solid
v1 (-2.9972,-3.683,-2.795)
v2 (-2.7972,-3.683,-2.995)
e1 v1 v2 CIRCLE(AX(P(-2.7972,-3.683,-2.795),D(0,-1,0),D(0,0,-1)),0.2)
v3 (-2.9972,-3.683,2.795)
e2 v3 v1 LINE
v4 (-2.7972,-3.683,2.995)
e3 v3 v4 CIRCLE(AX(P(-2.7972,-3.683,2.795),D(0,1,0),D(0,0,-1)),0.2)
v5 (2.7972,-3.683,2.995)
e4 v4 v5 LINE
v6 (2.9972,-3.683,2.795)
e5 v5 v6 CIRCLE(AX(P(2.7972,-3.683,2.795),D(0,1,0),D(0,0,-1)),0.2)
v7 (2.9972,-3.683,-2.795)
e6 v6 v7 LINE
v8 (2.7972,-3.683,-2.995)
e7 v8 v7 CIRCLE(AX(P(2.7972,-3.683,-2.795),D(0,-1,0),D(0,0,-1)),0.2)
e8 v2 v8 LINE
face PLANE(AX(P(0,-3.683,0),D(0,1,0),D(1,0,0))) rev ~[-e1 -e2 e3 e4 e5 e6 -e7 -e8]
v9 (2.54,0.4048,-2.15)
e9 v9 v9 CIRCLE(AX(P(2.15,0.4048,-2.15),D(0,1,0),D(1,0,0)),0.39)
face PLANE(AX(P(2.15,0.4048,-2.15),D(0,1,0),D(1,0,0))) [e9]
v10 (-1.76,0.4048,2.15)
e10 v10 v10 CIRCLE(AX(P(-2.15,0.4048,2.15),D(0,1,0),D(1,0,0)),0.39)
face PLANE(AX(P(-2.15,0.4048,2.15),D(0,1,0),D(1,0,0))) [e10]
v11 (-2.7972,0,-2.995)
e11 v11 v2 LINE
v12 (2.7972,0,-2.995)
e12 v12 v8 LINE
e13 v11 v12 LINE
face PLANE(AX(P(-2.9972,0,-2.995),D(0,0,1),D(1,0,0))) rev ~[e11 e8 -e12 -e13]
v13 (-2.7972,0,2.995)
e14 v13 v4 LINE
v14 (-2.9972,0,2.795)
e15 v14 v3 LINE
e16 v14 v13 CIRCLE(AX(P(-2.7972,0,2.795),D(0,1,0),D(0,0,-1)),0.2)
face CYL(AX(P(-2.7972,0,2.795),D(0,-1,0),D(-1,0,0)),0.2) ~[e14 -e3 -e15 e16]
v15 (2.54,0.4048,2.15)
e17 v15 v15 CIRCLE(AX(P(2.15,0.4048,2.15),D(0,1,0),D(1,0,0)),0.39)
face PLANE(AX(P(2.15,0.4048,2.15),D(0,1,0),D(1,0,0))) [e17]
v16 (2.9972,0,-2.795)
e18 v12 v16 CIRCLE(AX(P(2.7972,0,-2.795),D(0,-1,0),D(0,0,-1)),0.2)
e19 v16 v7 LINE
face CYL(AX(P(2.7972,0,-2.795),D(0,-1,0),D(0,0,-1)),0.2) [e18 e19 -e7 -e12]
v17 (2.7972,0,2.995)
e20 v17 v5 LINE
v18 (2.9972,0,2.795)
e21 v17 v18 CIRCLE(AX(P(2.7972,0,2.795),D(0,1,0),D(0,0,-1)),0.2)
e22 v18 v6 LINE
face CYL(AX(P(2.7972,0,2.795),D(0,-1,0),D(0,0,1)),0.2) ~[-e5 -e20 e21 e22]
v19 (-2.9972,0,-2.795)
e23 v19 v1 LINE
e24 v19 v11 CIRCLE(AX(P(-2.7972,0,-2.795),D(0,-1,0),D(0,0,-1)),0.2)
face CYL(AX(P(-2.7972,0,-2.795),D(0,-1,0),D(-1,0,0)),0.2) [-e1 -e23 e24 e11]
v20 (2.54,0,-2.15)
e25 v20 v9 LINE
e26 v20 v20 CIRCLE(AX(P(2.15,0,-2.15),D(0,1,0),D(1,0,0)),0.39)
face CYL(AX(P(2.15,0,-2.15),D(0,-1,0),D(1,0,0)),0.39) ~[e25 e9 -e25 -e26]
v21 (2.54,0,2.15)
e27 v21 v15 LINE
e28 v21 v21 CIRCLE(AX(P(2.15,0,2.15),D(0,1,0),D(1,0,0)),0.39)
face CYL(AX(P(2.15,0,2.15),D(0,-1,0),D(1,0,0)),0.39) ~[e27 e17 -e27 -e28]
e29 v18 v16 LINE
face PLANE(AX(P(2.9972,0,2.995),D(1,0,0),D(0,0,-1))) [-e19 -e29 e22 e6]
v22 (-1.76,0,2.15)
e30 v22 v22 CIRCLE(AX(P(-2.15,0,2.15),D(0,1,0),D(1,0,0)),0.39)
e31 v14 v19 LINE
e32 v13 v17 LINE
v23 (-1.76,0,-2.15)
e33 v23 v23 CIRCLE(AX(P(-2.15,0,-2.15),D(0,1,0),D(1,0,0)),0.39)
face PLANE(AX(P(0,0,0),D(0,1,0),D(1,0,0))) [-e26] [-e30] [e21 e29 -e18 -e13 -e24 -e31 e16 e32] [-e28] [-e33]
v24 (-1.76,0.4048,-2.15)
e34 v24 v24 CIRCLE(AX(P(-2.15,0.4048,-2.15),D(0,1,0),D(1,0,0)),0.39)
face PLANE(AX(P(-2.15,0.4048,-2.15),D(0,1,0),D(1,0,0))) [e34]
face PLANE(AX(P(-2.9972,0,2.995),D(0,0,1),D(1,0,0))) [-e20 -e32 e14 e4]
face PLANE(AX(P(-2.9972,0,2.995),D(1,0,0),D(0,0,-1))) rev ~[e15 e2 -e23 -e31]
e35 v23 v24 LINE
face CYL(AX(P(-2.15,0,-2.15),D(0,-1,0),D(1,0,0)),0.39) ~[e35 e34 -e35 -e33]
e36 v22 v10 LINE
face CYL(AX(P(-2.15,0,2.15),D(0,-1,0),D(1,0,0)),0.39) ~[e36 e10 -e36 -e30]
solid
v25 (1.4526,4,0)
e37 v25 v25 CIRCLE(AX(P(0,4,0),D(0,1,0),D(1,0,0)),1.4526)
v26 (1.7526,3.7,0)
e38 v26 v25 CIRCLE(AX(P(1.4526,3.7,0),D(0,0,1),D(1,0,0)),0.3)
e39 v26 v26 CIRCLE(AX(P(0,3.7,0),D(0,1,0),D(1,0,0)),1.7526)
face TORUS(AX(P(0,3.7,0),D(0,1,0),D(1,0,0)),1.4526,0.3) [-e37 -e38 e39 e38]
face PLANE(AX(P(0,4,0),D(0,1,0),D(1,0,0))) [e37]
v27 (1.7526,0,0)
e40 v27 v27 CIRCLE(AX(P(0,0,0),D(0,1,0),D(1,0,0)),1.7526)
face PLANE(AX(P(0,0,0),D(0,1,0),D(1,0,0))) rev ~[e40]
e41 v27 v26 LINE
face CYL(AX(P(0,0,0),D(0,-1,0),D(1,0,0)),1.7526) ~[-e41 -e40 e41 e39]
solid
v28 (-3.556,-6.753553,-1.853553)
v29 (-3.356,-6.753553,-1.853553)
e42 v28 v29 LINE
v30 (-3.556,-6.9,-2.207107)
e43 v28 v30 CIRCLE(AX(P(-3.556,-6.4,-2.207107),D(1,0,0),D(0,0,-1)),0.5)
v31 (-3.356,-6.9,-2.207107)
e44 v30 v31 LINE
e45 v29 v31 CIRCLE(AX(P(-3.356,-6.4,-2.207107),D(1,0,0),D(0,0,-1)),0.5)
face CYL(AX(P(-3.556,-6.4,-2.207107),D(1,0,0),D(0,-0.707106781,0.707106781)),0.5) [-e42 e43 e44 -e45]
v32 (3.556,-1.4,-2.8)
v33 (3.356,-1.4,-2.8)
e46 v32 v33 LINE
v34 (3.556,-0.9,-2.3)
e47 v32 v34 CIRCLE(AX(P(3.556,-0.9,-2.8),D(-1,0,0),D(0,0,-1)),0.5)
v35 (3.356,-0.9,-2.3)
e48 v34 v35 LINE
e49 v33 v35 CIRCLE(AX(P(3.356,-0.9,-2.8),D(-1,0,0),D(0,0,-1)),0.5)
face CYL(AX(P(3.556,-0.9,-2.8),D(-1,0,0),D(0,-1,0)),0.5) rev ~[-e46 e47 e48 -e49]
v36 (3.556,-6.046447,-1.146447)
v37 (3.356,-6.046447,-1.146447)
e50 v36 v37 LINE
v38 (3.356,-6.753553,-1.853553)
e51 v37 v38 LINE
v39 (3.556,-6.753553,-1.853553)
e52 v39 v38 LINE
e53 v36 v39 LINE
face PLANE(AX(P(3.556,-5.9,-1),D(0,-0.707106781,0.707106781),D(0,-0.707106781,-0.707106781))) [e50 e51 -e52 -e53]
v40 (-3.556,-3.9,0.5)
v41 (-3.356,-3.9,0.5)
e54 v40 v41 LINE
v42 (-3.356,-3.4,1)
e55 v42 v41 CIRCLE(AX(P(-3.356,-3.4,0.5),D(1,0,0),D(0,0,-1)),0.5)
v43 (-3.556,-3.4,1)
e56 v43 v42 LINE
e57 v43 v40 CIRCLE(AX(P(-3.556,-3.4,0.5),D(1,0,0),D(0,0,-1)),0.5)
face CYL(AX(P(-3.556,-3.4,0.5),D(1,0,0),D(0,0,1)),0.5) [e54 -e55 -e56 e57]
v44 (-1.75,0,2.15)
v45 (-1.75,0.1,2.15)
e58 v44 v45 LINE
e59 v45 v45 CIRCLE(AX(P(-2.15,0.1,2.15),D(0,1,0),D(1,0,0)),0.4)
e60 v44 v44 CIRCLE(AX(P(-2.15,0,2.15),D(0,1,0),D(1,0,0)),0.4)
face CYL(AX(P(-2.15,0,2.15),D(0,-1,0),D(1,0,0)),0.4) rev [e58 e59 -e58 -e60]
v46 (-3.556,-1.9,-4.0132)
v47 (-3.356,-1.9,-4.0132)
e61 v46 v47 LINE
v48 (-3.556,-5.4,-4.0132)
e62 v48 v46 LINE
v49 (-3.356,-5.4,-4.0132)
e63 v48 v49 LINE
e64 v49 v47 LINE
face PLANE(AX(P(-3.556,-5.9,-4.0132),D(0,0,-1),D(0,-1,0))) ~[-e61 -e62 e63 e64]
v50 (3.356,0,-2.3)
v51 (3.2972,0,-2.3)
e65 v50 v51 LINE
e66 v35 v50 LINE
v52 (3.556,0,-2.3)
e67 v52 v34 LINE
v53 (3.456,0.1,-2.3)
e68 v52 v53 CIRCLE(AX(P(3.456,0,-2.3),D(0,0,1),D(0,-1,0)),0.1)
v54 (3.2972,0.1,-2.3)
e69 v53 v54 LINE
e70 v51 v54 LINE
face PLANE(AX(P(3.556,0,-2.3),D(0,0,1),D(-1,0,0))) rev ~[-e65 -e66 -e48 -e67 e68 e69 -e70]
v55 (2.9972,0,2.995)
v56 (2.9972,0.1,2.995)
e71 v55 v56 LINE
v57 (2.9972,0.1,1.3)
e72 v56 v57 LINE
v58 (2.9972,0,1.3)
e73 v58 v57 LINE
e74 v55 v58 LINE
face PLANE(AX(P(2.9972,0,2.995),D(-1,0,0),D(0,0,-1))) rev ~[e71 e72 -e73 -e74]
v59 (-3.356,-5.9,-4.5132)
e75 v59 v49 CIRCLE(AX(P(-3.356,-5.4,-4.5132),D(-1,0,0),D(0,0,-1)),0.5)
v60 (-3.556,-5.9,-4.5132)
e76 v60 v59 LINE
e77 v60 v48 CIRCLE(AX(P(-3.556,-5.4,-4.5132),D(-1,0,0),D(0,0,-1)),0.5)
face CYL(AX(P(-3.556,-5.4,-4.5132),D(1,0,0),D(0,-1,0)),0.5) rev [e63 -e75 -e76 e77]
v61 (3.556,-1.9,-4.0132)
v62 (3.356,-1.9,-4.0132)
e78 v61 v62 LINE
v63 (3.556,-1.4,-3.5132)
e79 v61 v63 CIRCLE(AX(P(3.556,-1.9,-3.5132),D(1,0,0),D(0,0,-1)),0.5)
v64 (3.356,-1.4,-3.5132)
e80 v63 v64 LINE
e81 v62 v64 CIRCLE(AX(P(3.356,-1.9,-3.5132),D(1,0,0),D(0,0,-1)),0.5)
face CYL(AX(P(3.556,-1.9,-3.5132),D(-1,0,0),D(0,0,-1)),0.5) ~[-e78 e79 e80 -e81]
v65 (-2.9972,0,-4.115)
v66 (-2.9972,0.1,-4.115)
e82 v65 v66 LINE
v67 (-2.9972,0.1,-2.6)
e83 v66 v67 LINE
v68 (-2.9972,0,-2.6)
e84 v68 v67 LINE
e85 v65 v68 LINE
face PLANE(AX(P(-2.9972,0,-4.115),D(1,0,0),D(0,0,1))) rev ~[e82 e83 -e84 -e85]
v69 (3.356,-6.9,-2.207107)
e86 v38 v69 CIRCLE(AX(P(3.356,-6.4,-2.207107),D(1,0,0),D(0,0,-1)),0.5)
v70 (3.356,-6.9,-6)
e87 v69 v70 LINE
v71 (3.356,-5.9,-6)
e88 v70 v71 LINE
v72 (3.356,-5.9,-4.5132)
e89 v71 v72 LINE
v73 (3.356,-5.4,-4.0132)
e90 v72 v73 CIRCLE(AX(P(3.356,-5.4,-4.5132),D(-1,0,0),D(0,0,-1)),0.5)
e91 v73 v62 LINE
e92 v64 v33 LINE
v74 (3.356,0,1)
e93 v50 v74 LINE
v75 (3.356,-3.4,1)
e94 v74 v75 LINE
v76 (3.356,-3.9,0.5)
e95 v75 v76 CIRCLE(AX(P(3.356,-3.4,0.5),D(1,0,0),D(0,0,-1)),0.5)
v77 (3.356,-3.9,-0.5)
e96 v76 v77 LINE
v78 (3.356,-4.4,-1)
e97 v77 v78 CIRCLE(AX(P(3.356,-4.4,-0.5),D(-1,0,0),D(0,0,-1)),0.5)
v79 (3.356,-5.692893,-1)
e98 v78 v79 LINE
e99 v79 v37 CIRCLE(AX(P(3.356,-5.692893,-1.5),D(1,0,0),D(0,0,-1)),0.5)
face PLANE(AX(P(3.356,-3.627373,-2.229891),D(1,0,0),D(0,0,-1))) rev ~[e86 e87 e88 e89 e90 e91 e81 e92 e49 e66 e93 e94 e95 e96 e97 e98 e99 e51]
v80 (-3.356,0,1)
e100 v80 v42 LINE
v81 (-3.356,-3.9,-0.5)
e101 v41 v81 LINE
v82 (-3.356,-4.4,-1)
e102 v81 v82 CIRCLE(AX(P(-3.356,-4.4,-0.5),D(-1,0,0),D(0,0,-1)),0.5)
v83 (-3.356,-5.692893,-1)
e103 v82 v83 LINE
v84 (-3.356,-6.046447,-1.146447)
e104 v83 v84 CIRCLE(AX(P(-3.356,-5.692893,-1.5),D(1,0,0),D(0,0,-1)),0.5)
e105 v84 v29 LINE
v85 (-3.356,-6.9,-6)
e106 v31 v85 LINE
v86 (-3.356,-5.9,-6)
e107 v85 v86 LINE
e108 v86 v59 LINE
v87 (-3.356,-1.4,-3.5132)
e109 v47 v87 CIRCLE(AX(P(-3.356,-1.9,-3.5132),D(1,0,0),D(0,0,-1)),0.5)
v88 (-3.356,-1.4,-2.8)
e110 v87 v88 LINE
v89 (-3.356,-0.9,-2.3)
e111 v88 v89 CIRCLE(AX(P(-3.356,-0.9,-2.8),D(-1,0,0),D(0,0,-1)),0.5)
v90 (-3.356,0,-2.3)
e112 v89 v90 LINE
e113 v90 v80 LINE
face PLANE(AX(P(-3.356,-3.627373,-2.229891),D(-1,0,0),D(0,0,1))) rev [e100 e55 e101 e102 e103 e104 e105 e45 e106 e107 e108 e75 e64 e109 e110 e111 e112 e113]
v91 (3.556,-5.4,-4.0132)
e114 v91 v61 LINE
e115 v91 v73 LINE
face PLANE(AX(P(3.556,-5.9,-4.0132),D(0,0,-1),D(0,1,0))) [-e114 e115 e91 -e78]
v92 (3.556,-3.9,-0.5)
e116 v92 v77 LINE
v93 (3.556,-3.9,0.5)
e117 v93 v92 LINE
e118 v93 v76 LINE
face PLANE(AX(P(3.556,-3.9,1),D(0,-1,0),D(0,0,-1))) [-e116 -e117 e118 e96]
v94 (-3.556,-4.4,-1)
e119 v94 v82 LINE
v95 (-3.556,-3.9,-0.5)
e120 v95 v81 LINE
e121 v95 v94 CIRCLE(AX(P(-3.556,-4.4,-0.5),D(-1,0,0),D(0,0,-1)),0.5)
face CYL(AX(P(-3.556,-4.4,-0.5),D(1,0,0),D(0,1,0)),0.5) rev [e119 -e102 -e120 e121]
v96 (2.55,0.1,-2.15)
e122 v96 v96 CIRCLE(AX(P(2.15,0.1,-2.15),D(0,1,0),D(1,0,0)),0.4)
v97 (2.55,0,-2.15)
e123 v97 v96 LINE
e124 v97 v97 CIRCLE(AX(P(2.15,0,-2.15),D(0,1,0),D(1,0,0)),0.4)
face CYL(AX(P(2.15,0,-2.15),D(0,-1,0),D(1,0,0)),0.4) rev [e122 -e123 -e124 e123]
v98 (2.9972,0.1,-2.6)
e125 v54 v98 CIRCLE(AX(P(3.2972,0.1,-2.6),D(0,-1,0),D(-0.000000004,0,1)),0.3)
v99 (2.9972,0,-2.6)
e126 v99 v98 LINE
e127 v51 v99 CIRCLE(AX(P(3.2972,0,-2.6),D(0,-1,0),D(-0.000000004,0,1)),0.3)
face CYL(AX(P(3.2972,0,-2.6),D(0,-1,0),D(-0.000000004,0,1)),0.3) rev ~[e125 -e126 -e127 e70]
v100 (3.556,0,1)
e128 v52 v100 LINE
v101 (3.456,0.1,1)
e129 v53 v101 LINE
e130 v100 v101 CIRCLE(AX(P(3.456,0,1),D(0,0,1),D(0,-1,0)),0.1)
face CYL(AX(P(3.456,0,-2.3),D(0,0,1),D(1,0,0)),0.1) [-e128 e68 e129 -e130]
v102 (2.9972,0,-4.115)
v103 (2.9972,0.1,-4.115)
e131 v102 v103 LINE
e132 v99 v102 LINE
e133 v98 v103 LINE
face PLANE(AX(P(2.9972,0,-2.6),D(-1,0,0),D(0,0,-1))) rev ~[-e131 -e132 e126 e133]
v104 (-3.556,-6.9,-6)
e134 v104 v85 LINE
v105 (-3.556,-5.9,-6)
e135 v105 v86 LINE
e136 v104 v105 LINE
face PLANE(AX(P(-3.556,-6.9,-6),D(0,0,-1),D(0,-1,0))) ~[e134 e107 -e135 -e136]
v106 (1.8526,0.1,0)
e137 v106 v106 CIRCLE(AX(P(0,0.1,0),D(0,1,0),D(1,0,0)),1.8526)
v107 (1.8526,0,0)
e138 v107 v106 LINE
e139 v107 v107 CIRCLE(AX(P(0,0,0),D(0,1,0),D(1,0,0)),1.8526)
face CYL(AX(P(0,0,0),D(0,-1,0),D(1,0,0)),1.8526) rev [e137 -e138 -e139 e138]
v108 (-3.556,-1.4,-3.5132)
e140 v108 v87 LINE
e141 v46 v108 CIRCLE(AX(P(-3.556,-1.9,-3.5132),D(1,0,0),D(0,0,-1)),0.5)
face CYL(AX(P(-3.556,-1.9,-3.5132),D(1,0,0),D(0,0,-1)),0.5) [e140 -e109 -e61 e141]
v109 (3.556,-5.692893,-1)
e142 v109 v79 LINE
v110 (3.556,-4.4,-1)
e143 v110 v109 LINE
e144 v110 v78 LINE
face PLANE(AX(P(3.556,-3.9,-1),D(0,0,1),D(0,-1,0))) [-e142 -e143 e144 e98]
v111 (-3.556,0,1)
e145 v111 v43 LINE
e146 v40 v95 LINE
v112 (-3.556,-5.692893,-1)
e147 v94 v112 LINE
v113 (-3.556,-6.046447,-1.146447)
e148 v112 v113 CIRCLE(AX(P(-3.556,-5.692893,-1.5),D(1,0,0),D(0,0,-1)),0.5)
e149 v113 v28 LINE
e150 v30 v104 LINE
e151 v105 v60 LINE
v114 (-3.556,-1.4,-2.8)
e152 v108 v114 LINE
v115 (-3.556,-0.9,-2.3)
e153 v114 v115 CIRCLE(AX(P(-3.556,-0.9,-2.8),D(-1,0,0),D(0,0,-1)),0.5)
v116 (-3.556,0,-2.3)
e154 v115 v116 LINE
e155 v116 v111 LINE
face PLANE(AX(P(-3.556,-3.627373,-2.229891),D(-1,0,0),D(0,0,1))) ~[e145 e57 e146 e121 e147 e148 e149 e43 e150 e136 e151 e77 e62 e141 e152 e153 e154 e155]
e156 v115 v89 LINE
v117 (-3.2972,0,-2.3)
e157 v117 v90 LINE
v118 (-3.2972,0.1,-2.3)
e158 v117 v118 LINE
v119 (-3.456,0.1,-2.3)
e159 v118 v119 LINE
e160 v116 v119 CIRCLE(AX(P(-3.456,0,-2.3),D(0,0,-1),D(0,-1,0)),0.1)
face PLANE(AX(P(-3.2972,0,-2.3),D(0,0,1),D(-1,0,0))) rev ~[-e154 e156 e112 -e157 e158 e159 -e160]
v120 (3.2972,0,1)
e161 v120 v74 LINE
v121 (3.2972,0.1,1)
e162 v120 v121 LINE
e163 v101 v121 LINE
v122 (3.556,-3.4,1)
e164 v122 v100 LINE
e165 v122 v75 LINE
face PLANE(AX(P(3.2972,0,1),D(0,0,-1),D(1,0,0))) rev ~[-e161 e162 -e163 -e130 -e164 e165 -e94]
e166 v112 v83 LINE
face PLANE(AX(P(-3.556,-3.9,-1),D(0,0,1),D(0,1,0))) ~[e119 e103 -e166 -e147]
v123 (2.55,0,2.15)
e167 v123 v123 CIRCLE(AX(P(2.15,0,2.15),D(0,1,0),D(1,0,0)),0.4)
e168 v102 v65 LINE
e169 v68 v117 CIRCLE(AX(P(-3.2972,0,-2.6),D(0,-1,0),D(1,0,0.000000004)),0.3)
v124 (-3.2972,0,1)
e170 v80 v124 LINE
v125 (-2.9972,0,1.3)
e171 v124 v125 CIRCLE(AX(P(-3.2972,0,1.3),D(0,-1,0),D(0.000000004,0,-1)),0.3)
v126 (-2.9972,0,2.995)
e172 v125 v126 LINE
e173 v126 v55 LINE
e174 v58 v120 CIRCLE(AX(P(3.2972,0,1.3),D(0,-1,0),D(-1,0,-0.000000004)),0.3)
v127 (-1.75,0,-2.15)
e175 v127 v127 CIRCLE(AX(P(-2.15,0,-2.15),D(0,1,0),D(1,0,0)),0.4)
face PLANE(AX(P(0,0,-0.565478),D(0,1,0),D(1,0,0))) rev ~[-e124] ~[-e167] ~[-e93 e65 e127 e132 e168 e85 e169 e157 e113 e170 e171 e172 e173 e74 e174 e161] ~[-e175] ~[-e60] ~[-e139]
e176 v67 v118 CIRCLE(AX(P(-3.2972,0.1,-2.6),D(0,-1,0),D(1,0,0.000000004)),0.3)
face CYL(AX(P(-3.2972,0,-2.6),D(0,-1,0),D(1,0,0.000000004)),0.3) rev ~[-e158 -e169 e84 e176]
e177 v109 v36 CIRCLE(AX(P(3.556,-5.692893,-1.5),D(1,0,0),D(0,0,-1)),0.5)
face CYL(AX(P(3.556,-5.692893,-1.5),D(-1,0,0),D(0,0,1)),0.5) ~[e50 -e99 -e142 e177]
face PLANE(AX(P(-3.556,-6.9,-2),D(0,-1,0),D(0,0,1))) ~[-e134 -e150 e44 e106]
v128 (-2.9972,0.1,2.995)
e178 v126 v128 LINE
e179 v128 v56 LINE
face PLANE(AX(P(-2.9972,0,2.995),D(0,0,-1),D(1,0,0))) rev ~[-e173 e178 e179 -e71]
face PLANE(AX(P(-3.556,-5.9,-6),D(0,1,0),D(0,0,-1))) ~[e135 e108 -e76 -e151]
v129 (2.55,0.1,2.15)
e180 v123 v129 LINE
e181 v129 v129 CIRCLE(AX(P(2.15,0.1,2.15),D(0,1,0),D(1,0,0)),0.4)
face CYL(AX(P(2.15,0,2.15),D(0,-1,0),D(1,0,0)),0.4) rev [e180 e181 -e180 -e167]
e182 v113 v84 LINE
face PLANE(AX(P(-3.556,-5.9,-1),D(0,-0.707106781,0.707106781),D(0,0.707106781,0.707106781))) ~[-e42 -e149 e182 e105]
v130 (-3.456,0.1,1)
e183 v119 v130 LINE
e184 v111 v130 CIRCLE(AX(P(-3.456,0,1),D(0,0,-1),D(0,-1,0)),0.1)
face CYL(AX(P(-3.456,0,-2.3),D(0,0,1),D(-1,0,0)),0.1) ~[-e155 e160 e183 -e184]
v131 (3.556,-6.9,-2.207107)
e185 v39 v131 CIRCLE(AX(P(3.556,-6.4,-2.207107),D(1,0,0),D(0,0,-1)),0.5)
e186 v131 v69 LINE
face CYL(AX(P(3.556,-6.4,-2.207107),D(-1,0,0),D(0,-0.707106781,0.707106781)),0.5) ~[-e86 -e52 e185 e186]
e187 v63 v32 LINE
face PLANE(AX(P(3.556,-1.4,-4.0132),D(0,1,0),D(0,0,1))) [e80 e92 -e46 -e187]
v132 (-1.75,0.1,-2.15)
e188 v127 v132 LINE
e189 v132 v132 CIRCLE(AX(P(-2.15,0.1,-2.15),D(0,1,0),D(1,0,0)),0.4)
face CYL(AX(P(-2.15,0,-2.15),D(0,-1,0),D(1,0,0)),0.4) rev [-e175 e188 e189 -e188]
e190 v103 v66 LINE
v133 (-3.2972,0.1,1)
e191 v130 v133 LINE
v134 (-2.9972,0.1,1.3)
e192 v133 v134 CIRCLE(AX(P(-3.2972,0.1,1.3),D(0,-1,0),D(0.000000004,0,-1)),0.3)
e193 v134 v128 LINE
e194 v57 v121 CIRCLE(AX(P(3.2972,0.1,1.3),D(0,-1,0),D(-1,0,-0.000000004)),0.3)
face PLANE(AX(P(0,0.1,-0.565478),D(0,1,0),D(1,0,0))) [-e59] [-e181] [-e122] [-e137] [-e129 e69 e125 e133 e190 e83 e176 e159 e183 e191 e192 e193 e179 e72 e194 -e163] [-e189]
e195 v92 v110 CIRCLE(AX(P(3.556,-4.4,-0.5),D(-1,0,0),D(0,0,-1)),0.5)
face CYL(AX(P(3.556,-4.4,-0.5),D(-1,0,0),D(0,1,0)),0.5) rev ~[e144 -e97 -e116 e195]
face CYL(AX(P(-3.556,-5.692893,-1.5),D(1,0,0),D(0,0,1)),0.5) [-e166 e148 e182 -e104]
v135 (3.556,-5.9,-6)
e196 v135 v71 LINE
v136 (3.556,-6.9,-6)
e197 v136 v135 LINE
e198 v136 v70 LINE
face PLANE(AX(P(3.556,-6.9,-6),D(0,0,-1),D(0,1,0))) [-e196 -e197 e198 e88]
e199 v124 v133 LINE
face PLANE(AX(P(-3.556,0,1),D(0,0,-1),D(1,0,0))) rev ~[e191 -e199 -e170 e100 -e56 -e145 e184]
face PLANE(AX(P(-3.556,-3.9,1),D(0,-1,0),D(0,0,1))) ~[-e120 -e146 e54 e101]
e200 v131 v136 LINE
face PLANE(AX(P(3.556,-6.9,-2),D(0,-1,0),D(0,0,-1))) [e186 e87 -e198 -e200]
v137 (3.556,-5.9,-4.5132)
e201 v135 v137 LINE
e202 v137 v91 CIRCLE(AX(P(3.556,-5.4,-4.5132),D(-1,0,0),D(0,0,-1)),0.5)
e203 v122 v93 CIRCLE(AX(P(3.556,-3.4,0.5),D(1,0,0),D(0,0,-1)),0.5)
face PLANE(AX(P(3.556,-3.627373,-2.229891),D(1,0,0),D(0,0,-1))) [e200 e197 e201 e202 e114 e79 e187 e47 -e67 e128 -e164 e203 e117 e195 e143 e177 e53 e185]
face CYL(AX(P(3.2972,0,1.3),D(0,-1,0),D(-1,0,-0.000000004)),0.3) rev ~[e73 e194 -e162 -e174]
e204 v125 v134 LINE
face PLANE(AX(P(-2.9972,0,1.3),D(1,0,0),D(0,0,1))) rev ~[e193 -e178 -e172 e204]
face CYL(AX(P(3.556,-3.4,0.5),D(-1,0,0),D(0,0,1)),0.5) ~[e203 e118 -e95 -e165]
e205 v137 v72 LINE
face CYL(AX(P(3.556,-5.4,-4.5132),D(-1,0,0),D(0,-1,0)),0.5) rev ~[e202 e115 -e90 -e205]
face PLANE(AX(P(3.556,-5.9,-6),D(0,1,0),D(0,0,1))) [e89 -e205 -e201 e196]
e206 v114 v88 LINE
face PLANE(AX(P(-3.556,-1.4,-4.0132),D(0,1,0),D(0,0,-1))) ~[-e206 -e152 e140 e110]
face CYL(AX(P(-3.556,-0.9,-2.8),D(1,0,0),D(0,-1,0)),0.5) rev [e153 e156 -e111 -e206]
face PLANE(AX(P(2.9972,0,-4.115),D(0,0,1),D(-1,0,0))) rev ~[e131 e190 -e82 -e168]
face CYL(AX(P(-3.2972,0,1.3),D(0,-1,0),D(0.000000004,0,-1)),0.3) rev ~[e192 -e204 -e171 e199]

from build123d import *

# Parameters (mm, degrees)
SKETCH1_W           = 5.9944
SKETCH1_H           = 5.99
EXTRUDE1_DEPTH      = 3.683
EXTRUDE2_DEPTH      = 0.2
FILLET3_R           = 0.5
SKETCH6_R           = 1.8526
SKETCH6_R_2         = 0.4
EXTRUDE3_DEPTH      = 0.1
SKETCH2_R           = 1.7526
EXTRUDE4_DEPTH      = 4
FILLET1_R           = 0.1
SKETCH8_R           = 0.39
BOSS_EXTRUDE1_DEPTH = 0.4048
FILLET4_R           = 0.2
FILLET5_R           = 0.3


with BuildPart() as part:
    # Sketch1 → Extrude1 (new body)
    with BuildSketch(Plane(origin=(0, 0, 0), x_dir=(1, 0, 0), z_dir=(0, 1, 0))):
        Rectangle(SKETCH1_W, SKETCH1_H)
    extrude(amount=-EXTRUDE1_DEPTH)

    # Sketch8 → Boss-Extrude1 (add)
    with BuildSketch(Plane(origin=(0, 0, 0), x_dir=(1, 0, 0), z_dir=(0, 1, 0))):
        with Locations((2.15, 2.15)):
            Circle(SKETCH8_R)
        with Locations((2.15, -2.15)):
            Circle(SKETCH8_R)
        with Locations((-2.15, 2.15)):
            Circle(SKETCH8_R)
        with Locations((-2.15, -2.15)):
            Circle(SKETCH8_R)
    extrude(amount=BOSS_EXTRUDE1_DEPTH)

    # Fillet4
    fillet4_edges = [part.edges().sort_by_distance(p)[0] for p in [
        (-2.9972, -1.8415, -2.995),
        (2.9972, -1.8415, -2.995),
        (2.9972, -1.8415, 2.995),
        (-2.9972, -1.8415, 2.995),
    ]]
    fillet(fillet4_edges, radius=FILLET4_R)


with BuildPart() as body_2:
    # Sketch5 → Extrude2 (new body)
    with BuildSketch(Plane(origin=(3.556, 0, 0), x_dir=(0, 0, -1), z_dir=(1, 0, 0))):
        Polygon((2.3, 0.1), (-1, 0.1), (-1, -3.9), (1, -3.9), (1, -5.9), (2, -6.9), (6, -6.9), (6, -5.9), (4.0132, -5.9), (4.0132, -1.4), (2.3, -1.4), align=None)
    extrude(amount=-EXTRUDE2_DEPTH)

    # Fillet3
    fillet3_edges = [body_2.edges().sort_by_distance(p)[0] for p in [
        (3.456, -3.9, 1),
        (3.456, -1.4, -2.3),
        (3.456, -1.4, -4.0132),
        (3.456, -5.9, -4.0132),
        (3.456, -6.9, -2),
        (3.456, -5.9, -1),
        (3.456, -3.9, -1),
    ]]
    fillet(fillet3_edges, radius=FILLET3_R)


with BuildPart() as body_3:
    # Mirror1: mirrored copy
    add(body_2.part.mirror(Plane(origin=(0, 0, 0), x_dir=(0, 0, 1), z_dir=(1, 0, 0))))


with BuildPart() as body_2_1:
    add(body_2.part)

    add(body_3.part)  # Extrude3 merges body 3
    # Sketch6 → Extrude3 (add, through all)
    with BuildSketch(Plane(origin=(0, 0, 0), x_dir=(1, 0, 0), z_dir=(0, 1, 0))):
        with BuildLine():
            Line((3.2972, -1), (3.556, -1))
            Line((3.556, -1), (3.556, 2.3))
            Line((3.556, 2.3), (3.2972, 2.3))
            ThreePointArc((3.2972, 2.3), (3.085067966, 2.387867966), (2.9972, 2.6))
            Line((2.9972, 2.6), (2.9972, 4.115))
            Line((2.9972, 4.115), (-2.9972, 4.115))
            Line((-2.9972, 4.115), (-2.9972, 2.6))
            ThreePointArc((-2.9972, 2.6), (-3.085067966, 2.387867966), (-3.2972, 2.3))
            Line((-3.2972, 2.3), (-3.556, 2.3))
            Line((-3.556, 2.3), (-3.556, -1))
            Line((-3.556, -1), (-3.2972, -1))
            ThreePointArc((-3.2972, -1), (-3.085067966, -1.087867966), (-2.9972, -1.3))
            Line((-2.9972, -1.3), (-2.9972, -2.995))
            Line((-2.9972, -2.995), (2.9972, -2.995))
            Line((2.9972, -2.995), (2.9972, -1.3))
            ThreePointArc((2.9972, -1.3), (3.085067966, -1.087867966), (3.2972, -1))
        make_face()
        Circle(SKETCH6_R, mode=Mode.SUBTRACT)
        with Locations((-2.15, 2.15)):
            Circle(SKETCH6_R_2, mode=Mode.SUBTRACT)
        with Locations((2.15, 2.15)):
            Circle(SKETCH6_R_2, mode=Mode.SUBTRACT)
        with Locations((2.15, -2.15)):
            Circle(SKETCH6_R_2, mode=Mode.SUBTRACT)
        with Locations((-2.15, -2.15)):
            Circle(SKETCH6_R_2, mode=Mode.SUBTRACT)
    extrude(amount=EXTRUDE3_DEPTH)

    # Fillet1
    fillet1_edges = [body_2_1.edges().sort_by_distance(p)[0] for p in [
        (3.556, 0.1, -0.65),
        (-3.556, 0.1, -0.65),
    ]]
    fillet(fillet1_edges, radius=FILLET1_R)


with BuildPart() as body_3_2:
    # Sketch2 → Extrude4 (new body)
    with BuildSketch(Plane(origin=(0, 0, 0), x_dir=(1, 0, 0), z_dir=(0, 1, 0))):
        Circle(SKETCH2_R)
    extrude(amount=EXTRUDE4_DEPTH)

    # Fillet5
    fillet5_edges = [body_3_2.edges().sort_by_distance(p)[0] for p in [
        (-1.7526, 4, 0),
    ]]
    fillet(fillet5_edges, radius=FILLET5_R)


solid = Compound([part.part, body_2_1.part, body_3_2.part])
